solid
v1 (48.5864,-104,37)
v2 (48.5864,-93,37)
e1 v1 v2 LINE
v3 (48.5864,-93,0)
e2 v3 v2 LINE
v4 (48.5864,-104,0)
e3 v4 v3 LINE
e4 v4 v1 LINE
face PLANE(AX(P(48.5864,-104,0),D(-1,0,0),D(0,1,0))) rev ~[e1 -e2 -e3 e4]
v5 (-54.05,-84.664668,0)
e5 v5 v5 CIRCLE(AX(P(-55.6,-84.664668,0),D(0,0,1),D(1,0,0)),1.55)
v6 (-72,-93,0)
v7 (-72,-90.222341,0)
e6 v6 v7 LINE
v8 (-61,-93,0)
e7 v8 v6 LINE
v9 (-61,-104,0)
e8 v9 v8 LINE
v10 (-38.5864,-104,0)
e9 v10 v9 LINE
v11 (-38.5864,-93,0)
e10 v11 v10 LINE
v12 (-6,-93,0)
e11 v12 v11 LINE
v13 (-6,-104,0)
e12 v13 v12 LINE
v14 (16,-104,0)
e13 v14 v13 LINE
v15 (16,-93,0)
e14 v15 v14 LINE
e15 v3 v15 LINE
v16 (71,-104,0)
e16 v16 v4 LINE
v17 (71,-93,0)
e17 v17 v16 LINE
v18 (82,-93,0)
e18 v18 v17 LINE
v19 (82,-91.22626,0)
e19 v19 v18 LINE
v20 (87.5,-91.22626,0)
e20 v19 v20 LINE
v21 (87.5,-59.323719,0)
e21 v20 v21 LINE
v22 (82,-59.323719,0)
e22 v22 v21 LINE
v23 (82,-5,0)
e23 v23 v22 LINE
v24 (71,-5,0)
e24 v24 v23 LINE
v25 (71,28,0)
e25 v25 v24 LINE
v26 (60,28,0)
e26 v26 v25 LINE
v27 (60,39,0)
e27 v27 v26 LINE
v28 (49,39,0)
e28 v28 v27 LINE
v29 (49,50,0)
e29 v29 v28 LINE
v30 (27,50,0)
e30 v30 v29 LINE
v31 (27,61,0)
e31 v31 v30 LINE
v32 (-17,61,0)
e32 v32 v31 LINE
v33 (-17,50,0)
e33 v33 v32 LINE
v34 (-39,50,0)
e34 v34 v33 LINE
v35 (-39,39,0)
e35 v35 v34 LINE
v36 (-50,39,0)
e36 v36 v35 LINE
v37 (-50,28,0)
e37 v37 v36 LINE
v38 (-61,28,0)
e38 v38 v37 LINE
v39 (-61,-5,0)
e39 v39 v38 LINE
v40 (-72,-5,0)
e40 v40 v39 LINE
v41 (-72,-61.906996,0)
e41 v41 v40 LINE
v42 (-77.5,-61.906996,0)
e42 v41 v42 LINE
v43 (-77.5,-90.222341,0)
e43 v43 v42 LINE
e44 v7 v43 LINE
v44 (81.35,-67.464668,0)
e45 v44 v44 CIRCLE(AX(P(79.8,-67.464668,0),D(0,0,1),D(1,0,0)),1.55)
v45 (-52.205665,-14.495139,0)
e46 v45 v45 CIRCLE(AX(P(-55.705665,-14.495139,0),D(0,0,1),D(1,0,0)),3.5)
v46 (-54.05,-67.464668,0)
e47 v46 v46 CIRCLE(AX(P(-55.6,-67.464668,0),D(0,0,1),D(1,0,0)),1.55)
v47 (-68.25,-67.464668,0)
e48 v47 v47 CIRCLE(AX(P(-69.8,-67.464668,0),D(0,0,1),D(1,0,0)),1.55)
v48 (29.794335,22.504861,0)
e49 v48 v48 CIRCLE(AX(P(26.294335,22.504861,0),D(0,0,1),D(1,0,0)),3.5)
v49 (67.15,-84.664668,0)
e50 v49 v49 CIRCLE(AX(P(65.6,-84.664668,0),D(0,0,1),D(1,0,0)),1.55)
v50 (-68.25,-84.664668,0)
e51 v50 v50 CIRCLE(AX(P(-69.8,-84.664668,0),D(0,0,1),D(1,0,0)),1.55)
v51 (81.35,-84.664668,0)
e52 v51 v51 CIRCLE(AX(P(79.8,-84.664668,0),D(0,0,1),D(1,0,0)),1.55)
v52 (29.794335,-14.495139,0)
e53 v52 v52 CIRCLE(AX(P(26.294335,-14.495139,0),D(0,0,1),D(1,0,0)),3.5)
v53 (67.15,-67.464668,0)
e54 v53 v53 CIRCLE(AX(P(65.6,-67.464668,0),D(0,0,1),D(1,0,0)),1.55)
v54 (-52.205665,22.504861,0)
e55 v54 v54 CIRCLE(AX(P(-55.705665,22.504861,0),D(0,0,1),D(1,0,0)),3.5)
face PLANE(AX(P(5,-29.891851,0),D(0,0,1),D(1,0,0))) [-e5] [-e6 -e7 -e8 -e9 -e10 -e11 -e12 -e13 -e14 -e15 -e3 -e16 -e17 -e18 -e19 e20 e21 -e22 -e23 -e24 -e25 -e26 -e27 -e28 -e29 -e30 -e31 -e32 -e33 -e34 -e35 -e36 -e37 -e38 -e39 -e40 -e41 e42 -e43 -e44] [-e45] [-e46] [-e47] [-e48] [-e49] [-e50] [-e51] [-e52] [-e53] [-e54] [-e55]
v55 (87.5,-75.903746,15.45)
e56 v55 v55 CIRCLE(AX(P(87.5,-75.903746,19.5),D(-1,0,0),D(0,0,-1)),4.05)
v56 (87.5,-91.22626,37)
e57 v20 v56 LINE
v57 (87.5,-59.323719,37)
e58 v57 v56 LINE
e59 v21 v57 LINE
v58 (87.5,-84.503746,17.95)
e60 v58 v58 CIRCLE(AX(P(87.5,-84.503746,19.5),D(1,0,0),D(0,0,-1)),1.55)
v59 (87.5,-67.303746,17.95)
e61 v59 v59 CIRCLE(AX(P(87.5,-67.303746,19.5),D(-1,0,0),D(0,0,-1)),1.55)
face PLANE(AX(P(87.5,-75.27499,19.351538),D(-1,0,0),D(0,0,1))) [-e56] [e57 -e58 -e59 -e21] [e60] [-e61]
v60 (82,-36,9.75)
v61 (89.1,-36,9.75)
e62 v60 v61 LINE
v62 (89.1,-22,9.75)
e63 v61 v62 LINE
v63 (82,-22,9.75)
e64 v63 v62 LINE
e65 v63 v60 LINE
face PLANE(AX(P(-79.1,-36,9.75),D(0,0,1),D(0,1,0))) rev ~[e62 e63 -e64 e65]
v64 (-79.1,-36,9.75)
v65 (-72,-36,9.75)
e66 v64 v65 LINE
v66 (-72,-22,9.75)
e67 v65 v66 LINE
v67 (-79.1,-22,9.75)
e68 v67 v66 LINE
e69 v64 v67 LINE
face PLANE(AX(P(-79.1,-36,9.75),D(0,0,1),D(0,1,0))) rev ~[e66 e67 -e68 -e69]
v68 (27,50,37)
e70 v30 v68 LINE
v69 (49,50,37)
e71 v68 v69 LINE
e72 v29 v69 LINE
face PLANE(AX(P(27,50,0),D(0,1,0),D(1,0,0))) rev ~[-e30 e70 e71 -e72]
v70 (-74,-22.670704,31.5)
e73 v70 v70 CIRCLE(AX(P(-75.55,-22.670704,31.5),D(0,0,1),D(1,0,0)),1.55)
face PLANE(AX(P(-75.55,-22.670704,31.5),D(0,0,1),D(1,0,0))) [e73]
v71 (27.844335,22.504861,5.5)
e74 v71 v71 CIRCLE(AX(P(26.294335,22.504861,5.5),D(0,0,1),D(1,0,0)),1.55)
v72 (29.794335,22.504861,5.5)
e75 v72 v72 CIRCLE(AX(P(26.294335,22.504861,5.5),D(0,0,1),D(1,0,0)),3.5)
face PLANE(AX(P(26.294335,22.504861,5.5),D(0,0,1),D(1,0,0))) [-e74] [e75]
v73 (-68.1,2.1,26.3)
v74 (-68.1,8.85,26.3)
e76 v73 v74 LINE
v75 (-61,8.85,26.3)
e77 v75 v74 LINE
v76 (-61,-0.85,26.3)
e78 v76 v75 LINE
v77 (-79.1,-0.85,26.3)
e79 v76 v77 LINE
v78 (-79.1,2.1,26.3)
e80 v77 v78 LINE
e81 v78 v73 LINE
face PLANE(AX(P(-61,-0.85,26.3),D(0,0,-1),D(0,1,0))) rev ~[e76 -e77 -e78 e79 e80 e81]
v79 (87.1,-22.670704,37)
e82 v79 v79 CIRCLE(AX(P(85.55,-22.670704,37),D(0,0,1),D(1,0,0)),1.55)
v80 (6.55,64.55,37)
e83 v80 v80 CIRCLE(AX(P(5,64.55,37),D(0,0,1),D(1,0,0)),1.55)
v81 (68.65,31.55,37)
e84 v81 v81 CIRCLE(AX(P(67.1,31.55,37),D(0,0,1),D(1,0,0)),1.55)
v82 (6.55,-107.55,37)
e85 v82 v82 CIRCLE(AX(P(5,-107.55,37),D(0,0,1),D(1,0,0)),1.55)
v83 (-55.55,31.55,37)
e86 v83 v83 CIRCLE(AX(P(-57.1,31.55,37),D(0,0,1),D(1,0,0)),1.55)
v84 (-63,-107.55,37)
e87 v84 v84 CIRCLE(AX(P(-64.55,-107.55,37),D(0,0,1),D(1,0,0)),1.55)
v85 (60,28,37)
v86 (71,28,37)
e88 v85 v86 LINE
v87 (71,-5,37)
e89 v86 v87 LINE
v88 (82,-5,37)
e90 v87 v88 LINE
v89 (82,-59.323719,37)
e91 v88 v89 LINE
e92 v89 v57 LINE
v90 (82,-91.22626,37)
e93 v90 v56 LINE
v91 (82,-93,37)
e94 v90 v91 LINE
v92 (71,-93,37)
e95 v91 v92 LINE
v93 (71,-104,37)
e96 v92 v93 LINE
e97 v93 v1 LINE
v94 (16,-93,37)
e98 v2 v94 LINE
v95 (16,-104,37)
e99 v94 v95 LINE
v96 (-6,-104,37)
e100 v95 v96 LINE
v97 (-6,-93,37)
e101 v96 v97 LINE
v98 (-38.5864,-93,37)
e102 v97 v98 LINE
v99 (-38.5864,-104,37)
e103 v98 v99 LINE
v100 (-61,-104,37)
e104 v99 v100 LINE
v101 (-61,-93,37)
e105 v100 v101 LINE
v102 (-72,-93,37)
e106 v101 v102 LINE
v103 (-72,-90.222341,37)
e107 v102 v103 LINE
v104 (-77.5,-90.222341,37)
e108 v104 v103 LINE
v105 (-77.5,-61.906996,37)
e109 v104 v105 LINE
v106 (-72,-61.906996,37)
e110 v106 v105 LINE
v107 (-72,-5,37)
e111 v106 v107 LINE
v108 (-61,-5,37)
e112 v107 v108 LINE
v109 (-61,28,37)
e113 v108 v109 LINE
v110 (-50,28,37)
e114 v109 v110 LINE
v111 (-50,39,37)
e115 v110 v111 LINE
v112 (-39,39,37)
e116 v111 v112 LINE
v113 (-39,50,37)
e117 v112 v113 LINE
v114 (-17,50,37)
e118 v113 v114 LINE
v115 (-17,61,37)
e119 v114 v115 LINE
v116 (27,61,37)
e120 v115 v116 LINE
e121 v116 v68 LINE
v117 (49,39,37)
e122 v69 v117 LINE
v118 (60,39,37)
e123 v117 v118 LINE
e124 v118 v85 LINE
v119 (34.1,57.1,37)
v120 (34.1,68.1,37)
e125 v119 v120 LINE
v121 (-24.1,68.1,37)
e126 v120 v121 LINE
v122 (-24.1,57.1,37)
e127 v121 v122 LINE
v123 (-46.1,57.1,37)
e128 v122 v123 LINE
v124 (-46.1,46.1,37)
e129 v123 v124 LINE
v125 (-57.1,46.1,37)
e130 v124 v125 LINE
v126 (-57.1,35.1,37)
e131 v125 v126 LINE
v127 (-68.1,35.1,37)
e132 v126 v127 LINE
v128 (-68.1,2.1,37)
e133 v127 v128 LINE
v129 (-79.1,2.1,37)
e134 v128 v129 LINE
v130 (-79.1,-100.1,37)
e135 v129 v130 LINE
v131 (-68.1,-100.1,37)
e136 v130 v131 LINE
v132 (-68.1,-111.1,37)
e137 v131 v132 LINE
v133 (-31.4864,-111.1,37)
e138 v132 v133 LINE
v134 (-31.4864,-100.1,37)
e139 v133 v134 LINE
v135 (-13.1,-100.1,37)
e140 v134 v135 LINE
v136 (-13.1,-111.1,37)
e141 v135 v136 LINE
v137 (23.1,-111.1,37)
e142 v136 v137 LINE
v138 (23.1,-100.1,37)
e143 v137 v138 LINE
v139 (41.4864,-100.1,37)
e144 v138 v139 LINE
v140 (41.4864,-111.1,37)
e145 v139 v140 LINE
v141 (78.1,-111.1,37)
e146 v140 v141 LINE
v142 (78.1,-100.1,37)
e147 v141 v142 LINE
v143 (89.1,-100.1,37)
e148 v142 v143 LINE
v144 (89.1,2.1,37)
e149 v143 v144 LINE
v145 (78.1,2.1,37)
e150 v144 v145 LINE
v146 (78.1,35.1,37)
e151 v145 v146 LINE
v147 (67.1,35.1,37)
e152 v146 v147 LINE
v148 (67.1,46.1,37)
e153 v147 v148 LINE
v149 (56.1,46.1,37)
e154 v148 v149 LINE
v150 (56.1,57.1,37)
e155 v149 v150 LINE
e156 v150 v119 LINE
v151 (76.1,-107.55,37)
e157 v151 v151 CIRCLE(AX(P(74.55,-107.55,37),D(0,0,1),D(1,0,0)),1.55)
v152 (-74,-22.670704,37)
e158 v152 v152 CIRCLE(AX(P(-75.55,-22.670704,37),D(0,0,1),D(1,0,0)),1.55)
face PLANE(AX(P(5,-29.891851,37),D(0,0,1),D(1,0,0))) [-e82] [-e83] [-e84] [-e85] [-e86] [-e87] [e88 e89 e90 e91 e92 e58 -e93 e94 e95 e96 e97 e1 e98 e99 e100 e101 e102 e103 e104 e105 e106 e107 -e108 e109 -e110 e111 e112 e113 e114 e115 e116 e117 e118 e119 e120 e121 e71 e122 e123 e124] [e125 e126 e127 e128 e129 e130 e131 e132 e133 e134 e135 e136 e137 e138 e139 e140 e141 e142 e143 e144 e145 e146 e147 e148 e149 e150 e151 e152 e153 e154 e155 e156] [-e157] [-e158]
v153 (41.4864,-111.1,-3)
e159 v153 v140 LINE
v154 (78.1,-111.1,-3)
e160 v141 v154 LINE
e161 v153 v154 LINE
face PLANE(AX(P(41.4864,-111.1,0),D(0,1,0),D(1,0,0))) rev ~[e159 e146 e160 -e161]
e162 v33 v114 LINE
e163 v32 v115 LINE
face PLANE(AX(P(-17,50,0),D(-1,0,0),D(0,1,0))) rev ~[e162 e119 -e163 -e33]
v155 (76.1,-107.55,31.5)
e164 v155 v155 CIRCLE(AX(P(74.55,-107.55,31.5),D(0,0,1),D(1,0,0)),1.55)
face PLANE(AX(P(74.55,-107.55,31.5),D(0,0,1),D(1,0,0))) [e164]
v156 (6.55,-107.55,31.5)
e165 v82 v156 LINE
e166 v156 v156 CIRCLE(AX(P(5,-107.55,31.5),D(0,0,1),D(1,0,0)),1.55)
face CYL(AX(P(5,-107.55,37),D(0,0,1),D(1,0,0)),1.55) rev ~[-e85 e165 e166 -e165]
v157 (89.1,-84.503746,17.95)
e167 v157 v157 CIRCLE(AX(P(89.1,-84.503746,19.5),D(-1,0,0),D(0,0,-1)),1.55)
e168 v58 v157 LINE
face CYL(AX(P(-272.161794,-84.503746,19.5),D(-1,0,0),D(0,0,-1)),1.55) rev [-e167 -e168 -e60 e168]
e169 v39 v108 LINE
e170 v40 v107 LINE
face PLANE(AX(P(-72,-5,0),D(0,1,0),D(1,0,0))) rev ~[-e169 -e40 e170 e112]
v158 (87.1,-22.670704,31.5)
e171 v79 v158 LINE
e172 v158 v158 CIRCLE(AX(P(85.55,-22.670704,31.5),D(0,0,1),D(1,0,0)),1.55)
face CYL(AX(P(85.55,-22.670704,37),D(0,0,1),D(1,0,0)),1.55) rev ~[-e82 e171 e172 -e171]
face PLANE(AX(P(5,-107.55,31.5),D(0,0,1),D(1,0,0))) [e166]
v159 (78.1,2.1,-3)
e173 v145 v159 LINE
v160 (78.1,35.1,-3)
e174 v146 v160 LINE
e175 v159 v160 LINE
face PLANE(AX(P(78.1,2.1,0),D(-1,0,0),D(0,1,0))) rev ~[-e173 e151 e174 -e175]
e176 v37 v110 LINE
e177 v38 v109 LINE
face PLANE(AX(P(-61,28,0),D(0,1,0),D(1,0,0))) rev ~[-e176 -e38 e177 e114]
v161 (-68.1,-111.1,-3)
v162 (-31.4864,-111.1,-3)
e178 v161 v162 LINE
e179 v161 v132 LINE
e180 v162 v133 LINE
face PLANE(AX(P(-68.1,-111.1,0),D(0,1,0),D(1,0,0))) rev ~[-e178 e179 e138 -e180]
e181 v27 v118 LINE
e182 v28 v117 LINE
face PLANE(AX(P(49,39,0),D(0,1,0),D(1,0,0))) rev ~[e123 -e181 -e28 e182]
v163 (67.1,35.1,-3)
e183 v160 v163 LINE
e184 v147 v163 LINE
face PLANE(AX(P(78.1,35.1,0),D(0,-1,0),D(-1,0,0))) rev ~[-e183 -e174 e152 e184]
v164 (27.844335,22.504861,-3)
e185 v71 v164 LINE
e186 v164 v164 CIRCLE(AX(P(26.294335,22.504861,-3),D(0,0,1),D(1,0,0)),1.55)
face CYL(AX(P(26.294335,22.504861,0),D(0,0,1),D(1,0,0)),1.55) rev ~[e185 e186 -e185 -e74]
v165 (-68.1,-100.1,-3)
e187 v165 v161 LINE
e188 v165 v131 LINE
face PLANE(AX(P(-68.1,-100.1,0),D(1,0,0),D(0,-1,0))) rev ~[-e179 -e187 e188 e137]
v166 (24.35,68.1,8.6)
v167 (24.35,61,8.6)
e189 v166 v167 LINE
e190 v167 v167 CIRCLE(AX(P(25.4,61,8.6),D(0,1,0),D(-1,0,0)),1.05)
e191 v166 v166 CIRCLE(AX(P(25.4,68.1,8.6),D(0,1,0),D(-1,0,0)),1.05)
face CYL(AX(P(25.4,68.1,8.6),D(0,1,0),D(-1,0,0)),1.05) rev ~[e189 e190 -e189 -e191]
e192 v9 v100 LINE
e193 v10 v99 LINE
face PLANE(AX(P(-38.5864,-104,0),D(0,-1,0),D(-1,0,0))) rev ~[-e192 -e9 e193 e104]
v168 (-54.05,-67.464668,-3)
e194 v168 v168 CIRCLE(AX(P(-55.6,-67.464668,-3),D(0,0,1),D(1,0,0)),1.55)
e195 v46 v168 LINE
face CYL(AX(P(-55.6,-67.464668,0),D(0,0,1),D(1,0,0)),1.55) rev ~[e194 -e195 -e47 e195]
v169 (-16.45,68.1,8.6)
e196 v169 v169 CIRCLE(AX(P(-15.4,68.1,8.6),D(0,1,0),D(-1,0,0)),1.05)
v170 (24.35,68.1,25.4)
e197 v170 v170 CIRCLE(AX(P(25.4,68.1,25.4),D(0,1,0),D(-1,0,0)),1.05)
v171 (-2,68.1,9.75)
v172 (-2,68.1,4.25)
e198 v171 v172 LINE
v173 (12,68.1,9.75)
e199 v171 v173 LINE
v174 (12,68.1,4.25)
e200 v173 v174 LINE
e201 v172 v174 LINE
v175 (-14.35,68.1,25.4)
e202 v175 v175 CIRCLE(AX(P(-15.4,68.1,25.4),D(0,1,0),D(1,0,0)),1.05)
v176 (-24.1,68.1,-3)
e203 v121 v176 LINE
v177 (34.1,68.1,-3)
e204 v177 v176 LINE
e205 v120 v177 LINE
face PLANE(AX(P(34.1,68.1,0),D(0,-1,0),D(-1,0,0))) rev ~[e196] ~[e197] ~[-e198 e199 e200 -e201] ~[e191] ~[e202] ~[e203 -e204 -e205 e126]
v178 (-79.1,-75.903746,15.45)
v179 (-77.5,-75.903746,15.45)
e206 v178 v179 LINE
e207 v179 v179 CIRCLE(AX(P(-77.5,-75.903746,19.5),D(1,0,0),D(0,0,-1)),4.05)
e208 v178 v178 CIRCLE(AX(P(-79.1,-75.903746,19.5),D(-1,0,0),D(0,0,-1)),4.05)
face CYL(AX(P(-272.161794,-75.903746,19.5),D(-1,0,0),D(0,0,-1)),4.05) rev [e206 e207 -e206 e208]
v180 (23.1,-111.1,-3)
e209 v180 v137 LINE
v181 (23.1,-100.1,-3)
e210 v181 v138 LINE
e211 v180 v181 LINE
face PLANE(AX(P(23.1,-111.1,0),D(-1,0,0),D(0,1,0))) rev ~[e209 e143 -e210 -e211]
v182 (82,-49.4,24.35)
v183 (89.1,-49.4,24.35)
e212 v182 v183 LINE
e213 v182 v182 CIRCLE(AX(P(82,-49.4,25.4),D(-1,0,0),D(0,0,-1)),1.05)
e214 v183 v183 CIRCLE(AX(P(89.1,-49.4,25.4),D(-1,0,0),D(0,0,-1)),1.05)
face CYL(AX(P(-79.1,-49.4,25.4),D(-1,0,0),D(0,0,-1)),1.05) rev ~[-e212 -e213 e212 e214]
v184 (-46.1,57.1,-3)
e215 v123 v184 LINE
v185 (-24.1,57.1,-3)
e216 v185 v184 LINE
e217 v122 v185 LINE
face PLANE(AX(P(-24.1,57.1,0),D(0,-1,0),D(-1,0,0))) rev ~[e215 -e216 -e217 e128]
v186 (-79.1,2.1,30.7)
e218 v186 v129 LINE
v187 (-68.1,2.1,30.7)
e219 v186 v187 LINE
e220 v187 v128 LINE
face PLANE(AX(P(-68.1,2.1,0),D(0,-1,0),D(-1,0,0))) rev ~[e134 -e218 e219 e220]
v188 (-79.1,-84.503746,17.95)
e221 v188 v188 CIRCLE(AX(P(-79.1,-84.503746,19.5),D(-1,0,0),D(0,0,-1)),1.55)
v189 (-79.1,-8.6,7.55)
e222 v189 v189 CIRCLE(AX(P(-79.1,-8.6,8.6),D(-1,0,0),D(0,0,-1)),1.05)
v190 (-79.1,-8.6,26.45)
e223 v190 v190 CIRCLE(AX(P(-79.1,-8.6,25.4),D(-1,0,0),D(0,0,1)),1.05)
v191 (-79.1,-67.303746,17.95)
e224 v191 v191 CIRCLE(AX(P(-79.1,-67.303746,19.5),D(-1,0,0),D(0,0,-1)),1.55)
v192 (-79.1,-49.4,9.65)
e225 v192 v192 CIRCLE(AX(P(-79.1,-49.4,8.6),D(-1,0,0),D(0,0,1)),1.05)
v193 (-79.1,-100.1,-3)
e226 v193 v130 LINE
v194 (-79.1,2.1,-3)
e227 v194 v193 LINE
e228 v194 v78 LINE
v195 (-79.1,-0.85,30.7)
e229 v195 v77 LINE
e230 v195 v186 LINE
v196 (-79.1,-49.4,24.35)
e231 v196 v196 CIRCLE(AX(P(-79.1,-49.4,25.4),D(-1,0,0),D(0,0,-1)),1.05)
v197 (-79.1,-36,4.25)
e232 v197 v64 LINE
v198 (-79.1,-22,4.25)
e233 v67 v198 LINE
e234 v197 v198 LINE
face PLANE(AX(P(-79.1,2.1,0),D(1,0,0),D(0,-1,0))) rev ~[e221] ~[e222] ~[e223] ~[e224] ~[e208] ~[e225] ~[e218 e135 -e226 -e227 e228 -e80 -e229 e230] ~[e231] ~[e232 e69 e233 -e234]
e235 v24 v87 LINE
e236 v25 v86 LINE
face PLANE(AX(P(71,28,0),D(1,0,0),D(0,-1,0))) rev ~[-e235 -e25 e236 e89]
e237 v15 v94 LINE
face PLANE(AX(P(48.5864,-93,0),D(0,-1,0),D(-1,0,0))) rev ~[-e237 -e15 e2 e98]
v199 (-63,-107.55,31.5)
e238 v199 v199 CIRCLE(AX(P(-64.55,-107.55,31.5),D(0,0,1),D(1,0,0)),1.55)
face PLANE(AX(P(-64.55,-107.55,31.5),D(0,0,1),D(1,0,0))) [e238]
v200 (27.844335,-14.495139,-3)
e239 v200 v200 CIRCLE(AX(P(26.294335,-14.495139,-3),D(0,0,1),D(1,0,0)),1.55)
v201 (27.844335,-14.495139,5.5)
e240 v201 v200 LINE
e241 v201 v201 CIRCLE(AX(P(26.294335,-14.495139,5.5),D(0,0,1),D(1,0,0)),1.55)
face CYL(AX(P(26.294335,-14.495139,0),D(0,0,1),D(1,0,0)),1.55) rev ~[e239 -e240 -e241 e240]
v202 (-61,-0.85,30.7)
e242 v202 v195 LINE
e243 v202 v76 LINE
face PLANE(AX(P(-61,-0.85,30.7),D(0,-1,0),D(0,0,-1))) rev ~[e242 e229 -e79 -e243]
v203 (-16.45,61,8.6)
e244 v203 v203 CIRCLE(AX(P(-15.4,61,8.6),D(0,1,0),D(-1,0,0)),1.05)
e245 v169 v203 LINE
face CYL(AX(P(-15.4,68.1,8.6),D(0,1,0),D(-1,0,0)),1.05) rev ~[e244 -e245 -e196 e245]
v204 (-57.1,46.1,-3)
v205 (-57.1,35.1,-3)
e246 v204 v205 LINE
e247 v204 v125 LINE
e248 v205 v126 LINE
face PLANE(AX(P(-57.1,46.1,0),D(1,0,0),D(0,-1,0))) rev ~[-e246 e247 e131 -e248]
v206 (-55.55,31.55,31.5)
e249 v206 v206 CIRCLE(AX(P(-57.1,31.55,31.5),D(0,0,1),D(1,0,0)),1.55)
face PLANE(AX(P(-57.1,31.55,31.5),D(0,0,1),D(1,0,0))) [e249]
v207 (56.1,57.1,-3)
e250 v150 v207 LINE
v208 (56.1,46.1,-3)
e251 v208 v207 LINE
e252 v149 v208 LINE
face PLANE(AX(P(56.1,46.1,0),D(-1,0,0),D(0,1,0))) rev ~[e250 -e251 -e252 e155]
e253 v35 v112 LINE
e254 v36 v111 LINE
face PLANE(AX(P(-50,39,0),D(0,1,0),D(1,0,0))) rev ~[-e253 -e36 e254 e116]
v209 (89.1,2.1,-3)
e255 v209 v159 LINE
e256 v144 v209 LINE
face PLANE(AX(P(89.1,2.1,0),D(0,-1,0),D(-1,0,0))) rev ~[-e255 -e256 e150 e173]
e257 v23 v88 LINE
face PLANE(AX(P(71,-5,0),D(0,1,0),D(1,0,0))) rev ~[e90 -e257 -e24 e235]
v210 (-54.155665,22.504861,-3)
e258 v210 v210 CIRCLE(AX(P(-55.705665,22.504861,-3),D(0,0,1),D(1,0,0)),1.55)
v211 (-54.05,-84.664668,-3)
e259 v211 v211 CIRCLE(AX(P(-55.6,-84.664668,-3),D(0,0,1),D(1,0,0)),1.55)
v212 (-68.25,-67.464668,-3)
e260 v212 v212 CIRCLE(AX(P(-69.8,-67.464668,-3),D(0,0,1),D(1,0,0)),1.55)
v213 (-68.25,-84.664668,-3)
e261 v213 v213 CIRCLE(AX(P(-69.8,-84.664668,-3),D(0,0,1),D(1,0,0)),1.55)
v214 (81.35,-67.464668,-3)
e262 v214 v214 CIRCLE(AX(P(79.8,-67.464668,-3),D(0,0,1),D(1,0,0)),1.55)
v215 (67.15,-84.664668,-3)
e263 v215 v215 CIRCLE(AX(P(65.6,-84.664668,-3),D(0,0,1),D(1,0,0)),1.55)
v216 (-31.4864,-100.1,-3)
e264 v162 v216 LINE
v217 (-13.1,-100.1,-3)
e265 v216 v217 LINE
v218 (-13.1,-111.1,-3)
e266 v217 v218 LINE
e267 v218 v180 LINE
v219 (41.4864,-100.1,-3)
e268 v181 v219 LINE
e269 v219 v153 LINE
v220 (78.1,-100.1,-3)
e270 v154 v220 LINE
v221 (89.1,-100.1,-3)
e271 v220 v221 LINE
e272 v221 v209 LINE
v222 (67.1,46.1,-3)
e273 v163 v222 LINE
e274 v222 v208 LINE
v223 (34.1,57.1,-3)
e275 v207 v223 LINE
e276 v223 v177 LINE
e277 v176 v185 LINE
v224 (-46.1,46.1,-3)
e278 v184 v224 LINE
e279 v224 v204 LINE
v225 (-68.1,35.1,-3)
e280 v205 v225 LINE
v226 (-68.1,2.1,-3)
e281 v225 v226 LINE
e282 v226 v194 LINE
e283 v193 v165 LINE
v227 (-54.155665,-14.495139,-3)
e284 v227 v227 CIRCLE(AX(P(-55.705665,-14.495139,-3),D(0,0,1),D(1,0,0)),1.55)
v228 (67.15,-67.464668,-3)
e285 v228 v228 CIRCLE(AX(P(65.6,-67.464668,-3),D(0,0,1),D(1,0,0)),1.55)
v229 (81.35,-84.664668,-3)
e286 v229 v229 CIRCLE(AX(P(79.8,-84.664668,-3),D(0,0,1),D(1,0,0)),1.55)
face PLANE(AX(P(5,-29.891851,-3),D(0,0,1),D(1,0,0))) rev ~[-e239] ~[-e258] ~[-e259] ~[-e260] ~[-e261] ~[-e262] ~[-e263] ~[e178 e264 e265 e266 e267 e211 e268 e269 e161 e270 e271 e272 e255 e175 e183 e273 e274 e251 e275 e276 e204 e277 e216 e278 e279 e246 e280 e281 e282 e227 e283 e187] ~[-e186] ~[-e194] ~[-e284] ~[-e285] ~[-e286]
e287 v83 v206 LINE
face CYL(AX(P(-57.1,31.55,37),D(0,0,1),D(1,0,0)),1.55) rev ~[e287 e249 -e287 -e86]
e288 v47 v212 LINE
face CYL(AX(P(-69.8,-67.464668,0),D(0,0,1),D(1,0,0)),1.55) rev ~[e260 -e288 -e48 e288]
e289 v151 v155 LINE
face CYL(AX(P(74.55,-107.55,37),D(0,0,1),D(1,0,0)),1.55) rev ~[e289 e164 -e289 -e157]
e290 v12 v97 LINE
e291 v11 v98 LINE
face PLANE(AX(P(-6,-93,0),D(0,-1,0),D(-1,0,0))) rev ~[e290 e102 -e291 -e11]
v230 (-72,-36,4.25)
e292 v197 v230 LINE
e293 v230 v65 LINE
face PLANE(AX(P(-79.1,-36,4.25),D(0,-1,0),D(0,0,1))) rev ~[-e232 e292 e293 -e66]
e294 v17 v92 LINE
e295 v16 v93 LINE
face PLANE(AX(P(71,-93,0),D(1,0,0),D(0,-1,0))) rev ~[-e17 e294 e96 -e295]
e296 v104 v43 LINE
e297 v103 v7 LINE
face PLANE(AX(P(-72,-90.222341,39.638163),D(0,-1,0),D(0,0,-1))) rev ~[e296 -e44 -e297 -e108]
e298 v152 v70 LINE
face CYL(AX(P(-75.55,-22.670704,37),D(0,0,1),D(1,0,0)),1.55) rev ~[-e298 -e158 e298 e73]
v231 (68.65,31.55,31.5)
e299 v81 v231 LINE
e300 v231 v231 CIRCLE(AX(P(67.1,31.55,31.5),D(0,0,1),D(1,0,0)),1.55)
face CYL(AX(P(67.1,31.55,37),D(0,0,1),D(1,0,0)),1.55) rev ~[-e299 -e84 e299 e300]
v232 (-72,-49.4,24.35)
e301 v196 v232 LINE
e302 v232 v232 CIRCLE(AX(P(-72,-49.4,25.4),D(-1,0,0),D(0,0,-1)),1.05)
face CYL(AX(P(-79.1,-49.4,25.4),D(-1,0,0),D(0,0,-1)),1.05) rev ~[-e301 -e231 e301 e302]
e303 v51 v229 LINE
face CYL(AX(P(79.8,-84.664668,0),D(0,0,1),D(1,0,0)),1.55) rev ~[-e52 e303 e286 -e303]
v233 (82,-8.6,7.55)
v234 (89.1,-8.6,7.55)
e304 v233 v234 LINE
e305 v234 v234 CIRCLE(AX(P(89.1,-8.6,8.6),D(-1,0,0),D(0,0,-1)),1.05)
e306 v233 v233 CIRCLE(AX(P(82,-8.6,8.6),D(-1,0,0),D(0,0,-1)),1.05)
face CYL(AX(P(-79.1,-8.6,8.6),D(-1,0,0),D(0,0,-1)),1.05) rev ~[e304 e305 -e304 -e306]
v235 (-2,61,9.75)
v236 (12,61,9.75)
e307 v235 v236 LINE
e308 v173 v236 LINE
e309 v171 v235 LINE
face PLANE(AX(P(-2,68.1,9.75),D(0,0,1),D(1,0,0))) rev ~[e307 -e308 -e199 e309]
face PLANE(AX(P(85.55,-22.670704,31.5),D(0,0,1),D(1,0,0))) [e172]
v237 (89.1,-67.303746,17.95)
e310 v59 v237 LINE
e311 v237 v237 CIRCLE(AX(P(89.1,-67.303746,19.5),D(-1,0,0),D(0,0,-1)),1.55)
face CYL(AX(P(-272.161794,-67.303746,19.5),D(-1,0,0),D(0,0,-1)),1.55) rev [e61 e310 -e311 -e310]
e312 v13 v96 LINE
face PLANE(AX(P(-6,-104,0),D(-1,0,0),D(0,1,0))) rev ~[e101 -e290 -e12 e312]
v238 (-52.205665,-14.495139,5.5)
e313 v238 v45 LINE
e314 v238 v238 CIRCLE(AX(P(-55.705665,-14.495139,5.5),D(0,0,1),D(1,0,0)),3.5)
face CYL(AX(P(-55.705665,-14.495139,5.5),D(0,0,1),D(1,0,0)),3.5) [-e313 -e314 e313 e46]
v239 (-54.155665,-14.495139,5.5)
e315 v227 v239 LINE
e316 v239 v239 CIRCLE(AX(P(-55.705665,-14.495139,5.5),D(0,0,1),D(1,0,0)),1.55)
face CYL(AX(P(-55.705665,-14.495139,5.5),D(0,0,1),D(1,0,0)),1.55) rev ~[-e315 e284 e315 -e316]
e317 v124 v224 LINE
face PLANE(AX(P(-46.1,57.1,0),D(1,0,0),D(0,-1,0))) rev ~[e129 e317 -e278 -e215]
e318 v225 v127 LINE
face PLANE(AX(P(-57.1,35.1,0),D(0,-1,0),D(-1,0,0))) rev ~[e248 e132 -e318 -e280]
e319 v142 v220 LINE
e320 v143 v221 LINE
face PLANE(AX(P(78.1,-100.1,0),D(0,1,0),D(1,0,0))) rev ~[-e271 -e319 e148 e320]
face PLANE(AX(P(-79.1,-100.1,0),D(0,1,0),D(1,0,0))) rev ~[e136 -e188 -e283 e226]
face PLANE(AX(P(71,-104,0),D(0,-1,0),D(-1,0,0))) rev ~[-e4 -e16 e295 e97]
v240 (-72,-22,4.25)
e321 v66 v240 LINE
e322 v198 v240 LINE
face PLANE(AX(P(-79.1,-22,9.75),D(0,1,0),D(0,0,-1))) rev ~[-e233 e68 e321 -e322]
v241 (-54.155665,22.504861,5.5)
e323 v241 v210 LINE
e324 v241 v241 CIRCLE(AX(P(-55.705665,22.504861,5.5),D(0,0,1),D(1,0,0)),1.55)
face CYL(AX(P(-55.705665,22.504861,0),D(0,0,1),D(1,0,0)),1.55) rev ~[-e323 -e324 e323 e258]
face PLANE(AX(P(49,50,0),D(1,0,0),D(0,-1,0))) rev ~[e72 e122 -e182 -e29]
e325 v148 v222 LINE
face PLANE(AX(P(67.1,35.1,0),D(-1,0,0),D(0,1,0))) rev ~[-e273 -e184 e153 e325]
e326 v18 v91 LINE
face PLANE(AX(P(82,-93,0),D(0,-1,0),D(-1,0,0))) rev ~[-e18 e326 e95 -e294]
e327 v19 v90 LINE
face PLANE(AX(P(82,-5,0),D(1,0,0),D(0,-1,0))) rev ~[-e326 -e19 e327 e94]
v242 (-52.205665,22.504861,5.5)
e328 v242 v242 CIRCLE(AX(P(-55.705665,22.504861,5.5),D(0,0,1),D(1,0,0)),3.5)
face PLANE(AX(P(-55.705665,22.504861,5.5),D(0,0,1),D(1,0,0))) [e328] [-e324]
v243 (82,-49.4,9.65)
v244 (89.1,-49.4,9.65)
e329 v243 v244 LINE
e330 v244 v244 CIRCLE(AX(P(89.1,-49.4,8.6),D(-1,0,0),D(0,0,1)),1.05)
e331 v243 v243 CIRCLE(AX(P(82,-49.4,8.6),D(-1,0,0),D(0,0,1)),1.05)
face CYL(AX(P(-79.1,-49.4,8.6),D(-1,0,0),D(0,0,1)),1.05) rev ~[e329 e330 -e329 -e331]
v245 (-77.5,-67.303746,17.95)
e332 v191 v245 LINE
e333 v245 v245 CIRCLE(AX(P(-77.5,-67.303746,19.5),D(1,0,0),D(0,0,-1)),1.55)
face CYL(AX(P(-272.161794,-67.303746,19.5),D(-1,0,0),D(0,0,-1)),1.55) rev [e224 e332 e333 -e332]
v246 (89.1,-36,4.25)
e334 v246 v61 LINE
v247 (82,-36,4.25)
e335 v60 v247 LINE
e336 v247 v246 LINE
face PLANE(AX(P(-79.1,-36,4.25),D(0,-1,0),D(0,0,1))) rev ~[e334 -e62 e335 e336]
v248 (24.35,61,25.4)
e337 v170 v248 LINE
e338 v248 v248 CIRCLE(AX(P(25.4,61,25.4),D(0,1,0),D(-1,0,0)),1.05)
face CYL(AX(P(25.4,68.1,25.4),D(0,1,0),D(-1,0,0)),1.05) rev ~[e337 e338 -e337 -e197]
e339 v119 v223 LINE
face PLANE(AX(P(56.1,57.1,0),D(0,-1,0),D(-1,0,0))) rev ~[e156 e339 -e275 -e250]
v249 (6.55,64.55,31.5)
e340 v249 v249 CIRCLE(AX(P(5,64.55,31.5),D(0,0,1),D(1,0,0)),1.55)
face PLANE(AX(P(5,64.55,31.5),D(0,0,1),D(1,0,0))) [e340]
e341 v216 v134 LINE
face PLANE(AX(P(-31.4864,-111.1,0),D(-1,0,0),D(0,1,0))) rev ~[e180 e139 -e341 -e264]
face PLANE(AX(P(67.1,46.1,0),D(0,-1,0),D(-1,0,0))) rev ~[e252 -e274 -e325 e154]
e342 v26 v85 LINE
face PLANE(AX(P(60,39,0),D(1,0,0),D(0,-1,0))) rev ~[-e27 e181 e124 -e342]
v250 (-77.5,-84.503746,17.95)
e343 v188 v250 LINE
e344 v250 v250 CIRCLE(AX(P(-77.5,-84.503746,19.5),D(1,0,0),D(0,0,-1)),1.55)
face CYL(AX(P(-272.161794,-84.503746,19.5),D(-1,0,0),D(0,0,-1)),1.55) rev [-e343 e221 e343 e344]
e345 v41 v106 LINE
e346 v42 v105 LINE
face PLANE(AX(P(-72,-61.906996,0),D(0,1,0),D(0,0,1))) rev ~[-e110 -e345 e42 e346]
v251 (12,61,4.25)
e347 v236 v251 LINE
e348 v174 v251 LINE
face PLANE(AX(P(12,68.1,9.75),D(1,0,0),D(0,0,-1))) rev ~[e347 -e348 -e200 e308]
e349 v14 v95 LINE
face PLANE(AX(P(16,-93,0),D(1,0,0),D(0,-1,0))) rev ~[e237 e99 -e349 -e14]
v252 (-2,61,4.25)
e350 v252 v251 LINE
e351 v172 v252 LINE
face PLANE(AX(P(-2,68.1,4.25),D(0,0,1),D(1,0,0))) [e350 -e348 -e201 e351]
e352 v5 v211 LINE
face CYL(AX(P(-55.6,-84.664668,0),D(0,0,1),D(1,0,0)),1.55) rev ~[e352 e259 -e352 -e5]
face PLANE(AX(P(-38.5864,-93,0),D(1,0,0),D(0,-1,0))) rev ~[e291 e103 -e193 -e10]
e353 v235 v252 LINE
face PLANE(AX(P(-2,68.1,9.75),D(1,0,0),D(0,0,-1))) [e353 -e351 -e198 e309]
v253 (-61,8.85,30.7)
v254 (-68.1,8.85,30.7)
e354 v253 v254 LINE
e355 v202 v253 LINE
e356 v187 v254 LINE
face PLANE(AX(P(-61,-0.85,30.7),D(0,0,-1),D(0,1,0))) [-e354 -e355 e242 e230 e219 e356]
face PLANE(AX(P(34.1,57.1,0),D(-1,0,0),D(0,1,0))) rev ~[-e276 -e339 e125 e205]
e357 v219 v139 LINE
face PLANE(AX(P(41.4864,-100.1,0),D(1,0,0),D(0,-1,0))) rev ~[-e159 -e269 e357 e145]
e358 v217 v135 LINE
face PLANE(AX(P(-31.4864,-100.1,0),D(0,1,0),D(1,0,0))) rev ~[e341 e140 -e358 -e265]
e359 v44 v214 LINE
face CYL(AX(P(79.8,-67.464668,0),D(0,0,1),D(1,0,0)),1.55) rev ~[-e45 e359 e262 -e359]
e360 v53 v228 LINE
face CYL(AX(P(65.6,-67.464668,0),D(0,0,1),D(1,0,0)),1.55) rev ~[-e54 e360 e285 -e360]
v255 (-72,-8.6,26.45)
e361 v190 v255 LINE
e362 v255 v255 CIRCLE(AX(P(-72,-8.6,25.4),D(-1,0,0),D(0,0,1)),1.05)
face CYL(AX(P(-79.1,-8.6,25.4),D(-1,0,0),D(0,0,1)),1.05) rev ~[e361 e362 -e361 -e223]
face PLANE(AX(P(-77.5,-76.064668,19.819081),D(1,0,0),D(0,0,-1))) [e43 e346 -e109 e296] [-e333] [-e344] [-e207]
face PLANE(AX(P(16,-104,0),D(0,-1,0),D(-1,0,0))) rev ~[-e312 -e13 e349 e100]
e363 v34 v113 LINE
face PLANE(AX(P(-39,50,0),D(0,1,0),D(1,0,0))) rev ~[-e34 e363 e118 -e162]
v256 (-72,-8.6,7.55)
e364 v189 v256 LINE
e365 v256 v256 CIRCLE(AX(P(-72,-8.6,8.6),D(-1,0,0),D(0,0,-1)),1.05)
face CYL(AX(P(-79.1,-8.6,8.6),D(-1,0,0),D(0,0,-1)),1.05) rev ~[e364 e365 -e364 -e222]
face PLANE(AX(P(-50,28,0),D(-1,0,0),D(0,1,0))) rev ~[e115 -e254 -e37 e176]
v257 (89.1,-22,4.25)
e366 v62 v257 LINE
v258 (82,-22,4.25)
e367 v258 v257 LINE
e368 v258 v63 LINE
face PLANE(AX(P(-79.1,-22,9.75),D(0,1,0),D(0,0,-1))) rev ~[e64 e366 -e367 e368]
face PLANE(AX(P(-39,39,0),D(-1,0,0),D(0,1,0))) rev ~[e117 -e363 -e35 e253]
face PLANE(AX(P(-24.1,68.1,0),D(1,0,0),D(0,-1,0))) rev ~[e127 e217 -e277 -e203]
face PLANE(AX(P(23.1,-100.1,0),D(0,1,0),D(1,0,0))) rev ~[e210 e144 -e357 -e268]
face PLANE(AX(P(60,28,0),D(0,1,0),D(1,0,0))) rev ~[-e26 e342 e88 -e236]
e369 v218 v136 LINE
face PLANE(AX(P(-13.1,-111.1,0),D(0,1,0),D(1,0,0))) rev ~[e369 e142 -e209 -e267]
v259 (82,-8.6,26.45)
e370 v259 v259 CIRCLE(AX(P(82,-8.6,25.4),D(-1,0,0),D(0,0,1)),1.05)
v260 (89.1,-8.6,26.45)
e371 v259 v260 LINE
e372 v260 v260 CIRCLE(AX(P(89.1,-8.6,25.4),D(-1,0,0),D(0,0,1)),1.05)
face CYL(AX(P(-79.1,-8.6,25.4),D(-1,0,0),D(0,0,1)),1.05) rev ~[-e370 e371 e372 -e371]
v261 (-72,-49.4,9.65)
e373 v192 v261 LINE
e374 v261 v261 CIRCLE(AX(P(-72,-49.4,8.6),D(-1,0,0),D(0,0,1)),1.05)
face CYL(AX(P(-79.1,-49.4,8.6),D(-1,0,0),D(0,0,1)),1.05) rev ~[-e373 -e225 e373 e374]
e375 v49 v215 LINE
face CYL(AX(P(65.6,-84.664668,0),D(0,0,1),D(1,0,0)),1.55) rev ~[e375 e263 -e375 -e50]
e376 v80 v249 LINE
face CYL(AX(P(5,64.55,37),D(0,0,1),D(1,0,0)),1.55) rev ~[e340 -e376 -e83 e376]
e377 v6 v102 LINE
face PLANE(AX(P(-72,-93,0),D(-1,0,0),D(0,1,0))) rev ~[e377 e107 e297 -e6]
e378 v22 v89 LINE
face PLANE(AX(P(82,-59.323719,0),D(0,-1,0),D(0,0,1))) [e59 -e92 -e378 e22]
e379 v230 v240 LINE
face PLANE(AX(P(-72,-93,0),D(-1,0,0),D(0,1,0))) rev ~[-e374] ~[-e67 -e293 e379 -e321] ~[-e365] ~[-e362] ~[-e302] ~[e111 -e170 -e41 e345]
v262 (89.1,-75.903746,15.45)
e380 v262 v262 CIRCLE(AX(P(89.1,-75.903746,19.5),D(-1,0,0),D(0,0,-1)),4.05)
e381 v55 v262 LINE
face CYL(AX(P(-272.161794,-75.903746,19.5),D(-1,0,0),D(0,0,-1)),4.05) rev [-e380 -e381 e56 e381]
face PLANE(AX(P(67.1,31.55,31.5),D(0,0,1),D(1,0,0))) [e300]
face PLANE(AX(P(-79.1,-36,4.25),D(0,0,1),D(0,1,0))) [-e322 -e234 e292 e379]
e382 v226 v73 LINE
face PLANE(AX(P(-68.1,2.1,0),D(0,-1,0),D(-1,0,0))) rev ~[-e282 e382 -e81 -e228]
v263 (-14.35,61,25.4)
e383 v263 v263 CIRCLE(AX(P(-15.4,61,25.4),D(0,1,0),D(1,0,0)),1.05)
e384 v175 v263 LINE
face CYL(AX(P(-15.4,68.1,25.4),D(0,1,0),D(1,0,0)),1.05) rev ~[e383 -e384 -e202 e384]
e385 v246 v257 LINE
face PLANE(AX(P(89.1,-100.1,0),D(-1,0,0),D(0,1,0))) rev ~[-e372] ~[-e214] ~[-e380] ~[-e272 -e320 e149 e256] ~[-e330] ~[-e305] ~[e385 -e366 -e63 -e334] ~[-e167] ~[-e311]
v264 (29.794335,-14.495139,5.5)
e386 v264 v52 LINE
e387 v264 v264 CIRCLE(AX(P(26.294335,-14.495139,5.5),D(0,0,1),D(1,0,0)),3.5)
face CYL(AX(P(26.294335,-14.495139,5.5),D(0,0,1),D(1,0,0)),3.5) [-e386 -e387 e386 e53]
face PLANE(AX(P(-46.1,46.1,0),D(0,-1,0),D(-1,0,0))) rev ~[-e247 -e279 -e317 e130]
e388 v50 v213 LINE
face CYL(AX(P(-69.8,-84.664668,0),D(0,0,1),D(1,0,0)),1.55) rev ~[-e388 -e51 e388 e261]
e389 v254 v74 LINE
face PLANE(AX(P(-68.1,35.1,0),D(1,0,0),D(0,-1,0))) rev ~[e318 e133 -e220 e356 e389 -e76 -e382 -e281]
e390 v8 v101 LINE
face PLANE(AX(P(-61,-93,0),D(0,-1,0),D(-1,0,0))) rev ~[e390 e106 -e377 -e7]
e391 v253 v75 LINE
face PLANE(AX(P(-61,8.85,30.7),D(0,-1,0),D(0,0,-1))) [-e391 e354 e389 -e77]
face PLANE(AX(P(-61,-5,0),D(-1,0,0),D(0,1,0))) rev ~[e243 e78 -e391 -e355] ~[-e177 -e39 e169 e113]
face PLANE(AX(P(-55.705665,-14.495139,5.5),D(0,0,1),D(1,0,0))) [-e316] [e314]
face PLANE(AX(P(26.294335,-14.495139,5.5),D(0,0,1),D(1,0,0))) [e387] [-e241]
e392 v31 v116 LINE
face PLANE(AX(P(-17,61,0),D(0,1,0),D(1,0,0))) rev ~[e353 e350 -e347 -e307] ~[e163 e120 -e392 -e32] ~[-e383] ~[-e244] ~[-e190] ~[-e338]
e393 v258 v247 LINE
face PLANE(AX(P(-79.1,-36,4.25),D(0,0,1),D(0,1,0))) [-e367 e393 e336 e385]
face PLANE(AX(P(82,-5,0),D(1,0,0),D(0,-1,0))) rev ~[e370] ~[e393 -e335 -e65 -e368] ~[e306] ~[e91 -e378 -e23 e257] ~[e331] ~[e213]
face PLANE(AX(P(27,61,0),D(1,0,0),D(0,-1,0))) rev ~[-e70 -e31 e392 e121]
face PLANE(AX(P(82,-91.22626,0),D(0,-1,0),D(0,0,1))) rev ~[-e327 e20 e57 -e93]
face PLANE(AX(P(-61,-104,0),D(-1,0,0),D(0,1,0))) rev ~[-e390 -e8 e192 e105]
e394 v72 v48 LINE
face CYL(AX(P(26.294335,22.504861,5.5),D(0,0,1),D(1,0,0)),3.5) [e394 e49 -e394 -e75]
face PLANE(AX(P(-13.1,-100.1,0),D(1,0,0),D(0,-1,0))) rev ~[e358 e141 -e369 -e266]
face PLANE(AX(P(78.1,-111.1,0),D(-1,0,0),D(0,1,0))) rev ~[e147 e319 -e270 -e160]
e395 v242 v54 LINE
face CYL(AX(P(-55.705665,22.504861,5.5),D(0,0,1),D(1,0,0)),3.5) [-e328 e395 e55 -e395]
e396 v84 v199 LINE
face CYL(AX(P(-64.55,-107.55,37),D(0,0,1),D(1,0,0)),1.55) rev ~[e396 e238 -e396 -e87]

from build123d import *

# Parameters (mm, degrees)
SALIENTE_EXTRUIR3_DEPTH    = 3
SALIENTE_EXTRUIR4_DEPTH    = 37
CROQUIS15_R                = 1.05
CROQUIS15_W                = 14
CROQUIS15_H                = 5.5
CORTAR_EXTRUIR6_DEPTH      = 9
CROQUIS17_W                = 2.75
CROQUIS17_H                = 14
CROQUIS17_R                = 1.05
CORTAR_EXTRUIR7_DEPTH      = 205.947432284
CORTAR_EXTRUIR8_DEPTH      = 200.161793525
CORTAR_EXTRUIR8_DEPTH_BACK = 200.161793525
CROQUIS18_R                = 4.05
CROQUIS18_R_2              = 1.55
CROQUIS20_R                = 1.55
CROQUIS20_R_2              = 4.05
CORTAR_EXTRUIR9_DEPTH      = 5.5
CROQUIS21_W                = 38.703075187
CROQUIS21_H                = 31.902541418
CROQUIS21_R                = 1.55
CROQUIS21_R_2              = 4.05
CORTAR_EXTRUIR11_DEPTH     = 5.5
CROQUIS24_R                = 1.55
CORTAR_EXTRUIR12_DEPTH     = 5.5
SALIENTE_EXTRUIR5_START    = 5.5
CROQUIS25_R                = 3.5
CROQUIS25_R_2              = 1.55
SALIENTE_EXTRUIR5_DEPTH    = 5.5
CROQUIS27_W                = 4.4
CROQUIS27_H                = 9.7
CORTAR_EXTRUIR13_DEPTH     = 191.373895269
CROQUIS28_R                = 1.55
CORTAR_EXTRUIR14_DEPTH     = 5.5


with BuildPart() as part:
    # PacmanSilueta → Saliente-Extruir3 (new body)
    with BuildSketch(Plane.XY):
        Polygon((-79.1, 2.1), (-79.1, -93), (-79.1, -100.1), (-68.1, -100.1), (-68.1, -111.1), (-31.486400432, -111.1), (-31.486400432, -100.1), (-13.1, -100.1), (-13.1, -111.1), (23.1, -111.1), (23.1, -100.1), (41.486400432, -100.1), (41.486400432, -111.1), (78.1, -111.1), (78.1, -100.1), (89.1, -100.1), (89.1, 2.1), (78.1, 2.1), (78.1, 35.1), (67.1, 35.1), (67.1, 46.1), (56.1, 46.1), (56.1, 57.1), (34.1, 57.1), (34.1, 68.1), (-24.1, 68.1), (-24.1, 57.1), (-46.1, 57.1), (-46.1, 46.1), (-57.1, 46.1), (-57.1, 35.1), (-68.1, 35.1), (-68.1, 2.1), align=None)
    extrude(amount=-SALIENTE_EXTRUIR3_DEPTH)

    # Croquis3 → Saliente-Extruir4 (add)
    with BuildSketch(Plane.XY):
        Polygon((-46.1, 46.1), (-57.1, 46.1), (-57.1, 35.1), (-68.1, 35.1), (-68.1, 2.1), (-79.1, 2.1), (-79.1, -100.1), (-68.1, -100.1), (-68.1, -111.1), (-31.486400432, -111.1), (-31.486400432, -100.1), (-13.1, -100.1), (-13.1, -111.1), (23.1, -111.1), (23.1, -100.1), (41.486400432, -100.1), (41.486400432, -111.1), (78.1, -111.1), (78.1, -100.1), (89.1, -100.1), (89.1, 2.1), (78.1, 2.1), (78.1, 35.1), (67.1, 35.1), (67.1, 46.1), (56.1, 46.1), (56.1, 57.1), (34.1, 57.1), (34.1, 68.1), (-24.1, 68.1), (-24.1, 57.1), (-46.1, 57.1), align=None)
        Polygon((-72, -93), (-72, -5), (-61, -5), (-61, 28), (-50, 28), (-50, 39), (-39, 39), (-39, 50), (-17, 50), (-17, 61), (27, 61), (27, 50), (49, 50), (49, 39), (60, 39), (60, 28), (71, 28), (71, -5), (82, -5), (82, -93), (71, -93), (71, -104), (48.586400432, -104), (48.586400432, -93), (16, -93), (16, -104), (-6, -104), (-6, -93), (-38.586400432, -93), (-38.586400432, -104), (-61, -104), (-61, -93), align=None, mode=Mode.SUBTRACT)
    extrude(amount=SALIENTE_EXTRUIR4_DEPTH)

    # Croquis15 → Cortar-Extruir6 (cut)
    with BuildSketch(Plane(origin=(0, 68.1, 0), x_dir=(1, 0, 0), z_dir=(0, 1, 0))):
        with Locations(Location((-15.4, -8.6, 0), (0, 0, 180))):
            Circle(CROQUIS15_R)
        with Locations((-15.4, -25.4)):
            Circle(CROQUIS15_R)
        with Locations(Location((25.4, -8.6, 0), (0, 0, 180))):
            Circle(CROQUIS15_R)
        with Locations(Location((25.4, -25.4, 0), (0, 0, 180))):
            Circle(CROQUIS15_R)
        with Locations((5, -7)):
            Rectangle(CROQUIS15_W, CROQUIS15_H)
    extrude(amount=-CORTAR_EXTRUIR6_DEPTH, mode=Mode.SUBTRACT)

    # Croquis17 → Cortar-Extruir7 (cut, through all)
    with BuildSketch(Plane.ZY.offset(79.1)):
        with Locations((8.375, -29)):
            Rectangle(CROQUIS17_W, CROQUIS17_H)
        with Locations((5.625, -29)):
            Rectangle(CROQUIS17_W, CROQUIS17_H)
        with Locations((25.4, -8.6)):
            Circle(CROQUIS17_R)
        with Locations(Location((8.6, -8.6, 0), (0, 0, 180))):
            Circle(CROQUIS17_R)
        with Locations(Location((25.4, -49.4, 0), (0, 0, 180))):
            Circle(CROQUIS17_R)
        with Locations((8.6, -49.4)):
            Circle(CROQUIS17_R)
    extrude(amount=-CORTAR_EXTRUIR7_DEPTH, mode=Mode.SUBTRACT)

    # Croquis18 → Cortar-Extruir8 (cut, two sides: drawn at the far end of the back side and taken through both)
    with BuildSketch(Plane(origin=(-72, 0, 0), x_dir=(0, 0, -1), z_dir=(1, 0, 0)).offset(-CORTAR_EXTRUIR8_DEPTH_BACK)):
        with Locations((-19.5, -75.903746181)):
            Circle(CROQUIS18_R)
        with Locations((-19.5, -67.303746181)):
            Circle(CROQUIS18_R_2)
        with Locations((-19.5, -84.503746181)):
            Circle(CROQUIS18_R_2)
    extrude(amount=CORTAR_EXTRUIR8_DEPTH + CORTAR_EXTRUIR8_DEPTH_BACK, mode=Mode.SUBTRACT)

    # Croquis20 → Cortar-Extruir9 (cut)
    with BuildSketch(Plane(origin=(-72, 0, 0), x_dir=(0, 0, -1), z_dir=(1, 0, 0))):
        Polygon((0, -90.222340764), (0, -75.903746181), (0, -64.555188751), (0, -61.906996068), (-39.638162785, -61.906996068), (-39.638162785, -90.222340764), align=None)
        with Locations((-19.5, -84.503746181)):
            Circle(CROQUIS20_R, mode=Mode.SUBTRACT)
        with Locations((-19.5, -75.903746181)):
            Circle(CROQUIS20_R_2, mode=Mode.SUBTRACT)
        with Locations((-19.5, -67.303746181)):
            Circle(CROQUIS20_R, mode=Mode.SUBTRACT)
    extrude(amount=-CORTAR_EXTRUIR9_DEPTH, mode=Mode.SUBTRACT)

    # Croquis21 → Cortar-Extruir11 (cut)
    with BuildSketch(Plane.ZY.offset(-82)):
        with Locations((19.351537594, -75.274989688)):
            Rectangle(CROQUIS21_W, CROQUIS21_H)
        with Locations(Location((19.5, -84.503746181, 0), (0, 0, 270))):
            Circle(CROQUIS21_R, mode=Mode.SUBTRACT)
        with Locations(Location((19.5, -75.903746181, 0), (0, 0, 180))):
            Circle(CROQUIS21_R_2, mode=Mode.SUBTRACT)
        with Locations(Location((19.5, -67.303746181, 0), (0, 0, 180))):
            Circle(CROQUIS21_R, mode=Mode.SUBTRACT)
    extrude(amount=-CORTAR_EXTRUIR11_DEPTH, mode=Mode.SUBTRACT)

    # Croquis24 → Cortar-Extruir12 (cut)
    with BuildSketch(Plane.XY):
        with Locations((26.294334913, 22.504861365)):
            Circle(CROQUIS24_R)
        with Locations((-55.705665087, -14.495138635)):
            Circle(CROQUIS24_R)
        with Locations((65.6, -67.464668416)):
            Circle(CROQUIS24_R)
        with Locations((26.294334913, -14.495138635)):
            Circle(CROQUIS24_R)
        with Locations((-55.705665087, 22.504861365)):
            Circle(CROQUIS24_R)
        with Locations((-69.8, -67.464668416)):
            Circle(CROQUIS24_R)
        with Locations((-55.6, -67.464668416)):
            Circle(CROQUIS24_R)
        with Locations((-55.6, -84.664668416)):
            Circle(CROQUIS24_R)
        with Locations((-69.8, -84.664668416)):
            Circle(CROQUIS24_R)
        with Locations((79.8, -67.464668416)):
            Circle(CROQUIS24_R)
        with Locations((79.8, -84.664668416)):
            Circle(CROQUIS24_R)
        with Locations((65.6, -84.664668416)):
            Circle(CROQUIS24_R)
    extrude(amount=-CORTAR_EXTRUIR12_DEPTH, mode=Mode.SUBTRACT)

    # Croquis25 → Saliente-Extruir5 (add)
    # profile 1 of 4: a face of its own
    with BuildSketch(Plane.XY.offset(SALIENTE_EXTRUIR5_START)):
        with Locations((-55.705665087, -14.495138635)):
            Circle(CROQUIS25_R)
        with Locations((-55.705665087, -14.495138635)):
            Circle(CROQUIS25_R_2, mode=Mode.SUBTRACT)
    # profile 2 of 4: a face of its own
    with BuildSketch(Plane.XY.offset(SALIENTE_EXTRUIR5_START)):
        with Locations((-55.705665087, 22.504861365)):
            Circle(CROQUIS25_R)
        with Locations((-55.705665087, 22.504861365)):
            Circle(CROQUIS25_R_2, mode=Mode.SUBTRACT)
    # profile 3 of 4: a face of its own
    with BuildSketch(Plane.XY.offset(SALIENTE_EXTRUIR5_START)):
        with Locations((26.294334913, 22.504861365)):
            Circle(CROQUIS25_R)
        with Locations((26.294334913, 22.504861365)):
            Circle(CROQUIS25_R_2, mode=Mode.SUBTRACT)
    # profile 4 of 4: a face of its own
    with BuildSketch(Plane.XY.offset(SALIENTE_EXTRUIR5_START)):
        with Locations((26.294334913, -14.495138635)):
            Circle(CROQUIS25_R)
        with Locations((26.294334913, -14.495138635)):
            Circle(CROQUIS25_R_2, mode=Mode.SUBTRACT)
    extrude(amount=-SALIENTE_EXTRUIR5_DEPTH)

    # Croquis27 → Cortar-Extruir13 (cut, through all)
    with BuildSketch(Plane(origin=(-61, 0, 0), x_dir=(0, 0, -1), z_dir=(1, 0, 0))):
        with Locations((-28.5, 4)):
            Rectangle(CROQUIS27_W, CROQUIS27_H)
    extrude(amount=-CORTAR_EXTRUIR13_DEPTH, mode=Mode.SUBTRACT)

    # Croquis28 → Cortar-Extruir14 (cut)
    with BuildSketch(Plane.XY.offset(37)):
        with Locations((5, -107.55)):
            Circle(CROQUIS28_R)
        with Locations((5, 64.55)):
            Circle(CROQUIS28_R)
        with Locations((85.55, -22.670703526)):
            Circle(CROQUIS28_R)
        with Locations((-75.55, -22.670703526)):
            Circle(CROQUIS28_R)
        with Locations((-57.1, 31.55)):
            Circle(CROQUIS28_R)
        with Locations((67.1, 31.55)):
            Circle(CROQUIS28_R)
        with Locations((-64.55, -107.55)):
            Circle(CROQUIS28_R)
        with Locations((74.55, -107.55)):
            Circle(CROQUIS28_R)
    extrude(amount=-CORTAR_EXTRUIR14_DEPTH, mode=Mode.SUBTRACT)


solid = part.part
